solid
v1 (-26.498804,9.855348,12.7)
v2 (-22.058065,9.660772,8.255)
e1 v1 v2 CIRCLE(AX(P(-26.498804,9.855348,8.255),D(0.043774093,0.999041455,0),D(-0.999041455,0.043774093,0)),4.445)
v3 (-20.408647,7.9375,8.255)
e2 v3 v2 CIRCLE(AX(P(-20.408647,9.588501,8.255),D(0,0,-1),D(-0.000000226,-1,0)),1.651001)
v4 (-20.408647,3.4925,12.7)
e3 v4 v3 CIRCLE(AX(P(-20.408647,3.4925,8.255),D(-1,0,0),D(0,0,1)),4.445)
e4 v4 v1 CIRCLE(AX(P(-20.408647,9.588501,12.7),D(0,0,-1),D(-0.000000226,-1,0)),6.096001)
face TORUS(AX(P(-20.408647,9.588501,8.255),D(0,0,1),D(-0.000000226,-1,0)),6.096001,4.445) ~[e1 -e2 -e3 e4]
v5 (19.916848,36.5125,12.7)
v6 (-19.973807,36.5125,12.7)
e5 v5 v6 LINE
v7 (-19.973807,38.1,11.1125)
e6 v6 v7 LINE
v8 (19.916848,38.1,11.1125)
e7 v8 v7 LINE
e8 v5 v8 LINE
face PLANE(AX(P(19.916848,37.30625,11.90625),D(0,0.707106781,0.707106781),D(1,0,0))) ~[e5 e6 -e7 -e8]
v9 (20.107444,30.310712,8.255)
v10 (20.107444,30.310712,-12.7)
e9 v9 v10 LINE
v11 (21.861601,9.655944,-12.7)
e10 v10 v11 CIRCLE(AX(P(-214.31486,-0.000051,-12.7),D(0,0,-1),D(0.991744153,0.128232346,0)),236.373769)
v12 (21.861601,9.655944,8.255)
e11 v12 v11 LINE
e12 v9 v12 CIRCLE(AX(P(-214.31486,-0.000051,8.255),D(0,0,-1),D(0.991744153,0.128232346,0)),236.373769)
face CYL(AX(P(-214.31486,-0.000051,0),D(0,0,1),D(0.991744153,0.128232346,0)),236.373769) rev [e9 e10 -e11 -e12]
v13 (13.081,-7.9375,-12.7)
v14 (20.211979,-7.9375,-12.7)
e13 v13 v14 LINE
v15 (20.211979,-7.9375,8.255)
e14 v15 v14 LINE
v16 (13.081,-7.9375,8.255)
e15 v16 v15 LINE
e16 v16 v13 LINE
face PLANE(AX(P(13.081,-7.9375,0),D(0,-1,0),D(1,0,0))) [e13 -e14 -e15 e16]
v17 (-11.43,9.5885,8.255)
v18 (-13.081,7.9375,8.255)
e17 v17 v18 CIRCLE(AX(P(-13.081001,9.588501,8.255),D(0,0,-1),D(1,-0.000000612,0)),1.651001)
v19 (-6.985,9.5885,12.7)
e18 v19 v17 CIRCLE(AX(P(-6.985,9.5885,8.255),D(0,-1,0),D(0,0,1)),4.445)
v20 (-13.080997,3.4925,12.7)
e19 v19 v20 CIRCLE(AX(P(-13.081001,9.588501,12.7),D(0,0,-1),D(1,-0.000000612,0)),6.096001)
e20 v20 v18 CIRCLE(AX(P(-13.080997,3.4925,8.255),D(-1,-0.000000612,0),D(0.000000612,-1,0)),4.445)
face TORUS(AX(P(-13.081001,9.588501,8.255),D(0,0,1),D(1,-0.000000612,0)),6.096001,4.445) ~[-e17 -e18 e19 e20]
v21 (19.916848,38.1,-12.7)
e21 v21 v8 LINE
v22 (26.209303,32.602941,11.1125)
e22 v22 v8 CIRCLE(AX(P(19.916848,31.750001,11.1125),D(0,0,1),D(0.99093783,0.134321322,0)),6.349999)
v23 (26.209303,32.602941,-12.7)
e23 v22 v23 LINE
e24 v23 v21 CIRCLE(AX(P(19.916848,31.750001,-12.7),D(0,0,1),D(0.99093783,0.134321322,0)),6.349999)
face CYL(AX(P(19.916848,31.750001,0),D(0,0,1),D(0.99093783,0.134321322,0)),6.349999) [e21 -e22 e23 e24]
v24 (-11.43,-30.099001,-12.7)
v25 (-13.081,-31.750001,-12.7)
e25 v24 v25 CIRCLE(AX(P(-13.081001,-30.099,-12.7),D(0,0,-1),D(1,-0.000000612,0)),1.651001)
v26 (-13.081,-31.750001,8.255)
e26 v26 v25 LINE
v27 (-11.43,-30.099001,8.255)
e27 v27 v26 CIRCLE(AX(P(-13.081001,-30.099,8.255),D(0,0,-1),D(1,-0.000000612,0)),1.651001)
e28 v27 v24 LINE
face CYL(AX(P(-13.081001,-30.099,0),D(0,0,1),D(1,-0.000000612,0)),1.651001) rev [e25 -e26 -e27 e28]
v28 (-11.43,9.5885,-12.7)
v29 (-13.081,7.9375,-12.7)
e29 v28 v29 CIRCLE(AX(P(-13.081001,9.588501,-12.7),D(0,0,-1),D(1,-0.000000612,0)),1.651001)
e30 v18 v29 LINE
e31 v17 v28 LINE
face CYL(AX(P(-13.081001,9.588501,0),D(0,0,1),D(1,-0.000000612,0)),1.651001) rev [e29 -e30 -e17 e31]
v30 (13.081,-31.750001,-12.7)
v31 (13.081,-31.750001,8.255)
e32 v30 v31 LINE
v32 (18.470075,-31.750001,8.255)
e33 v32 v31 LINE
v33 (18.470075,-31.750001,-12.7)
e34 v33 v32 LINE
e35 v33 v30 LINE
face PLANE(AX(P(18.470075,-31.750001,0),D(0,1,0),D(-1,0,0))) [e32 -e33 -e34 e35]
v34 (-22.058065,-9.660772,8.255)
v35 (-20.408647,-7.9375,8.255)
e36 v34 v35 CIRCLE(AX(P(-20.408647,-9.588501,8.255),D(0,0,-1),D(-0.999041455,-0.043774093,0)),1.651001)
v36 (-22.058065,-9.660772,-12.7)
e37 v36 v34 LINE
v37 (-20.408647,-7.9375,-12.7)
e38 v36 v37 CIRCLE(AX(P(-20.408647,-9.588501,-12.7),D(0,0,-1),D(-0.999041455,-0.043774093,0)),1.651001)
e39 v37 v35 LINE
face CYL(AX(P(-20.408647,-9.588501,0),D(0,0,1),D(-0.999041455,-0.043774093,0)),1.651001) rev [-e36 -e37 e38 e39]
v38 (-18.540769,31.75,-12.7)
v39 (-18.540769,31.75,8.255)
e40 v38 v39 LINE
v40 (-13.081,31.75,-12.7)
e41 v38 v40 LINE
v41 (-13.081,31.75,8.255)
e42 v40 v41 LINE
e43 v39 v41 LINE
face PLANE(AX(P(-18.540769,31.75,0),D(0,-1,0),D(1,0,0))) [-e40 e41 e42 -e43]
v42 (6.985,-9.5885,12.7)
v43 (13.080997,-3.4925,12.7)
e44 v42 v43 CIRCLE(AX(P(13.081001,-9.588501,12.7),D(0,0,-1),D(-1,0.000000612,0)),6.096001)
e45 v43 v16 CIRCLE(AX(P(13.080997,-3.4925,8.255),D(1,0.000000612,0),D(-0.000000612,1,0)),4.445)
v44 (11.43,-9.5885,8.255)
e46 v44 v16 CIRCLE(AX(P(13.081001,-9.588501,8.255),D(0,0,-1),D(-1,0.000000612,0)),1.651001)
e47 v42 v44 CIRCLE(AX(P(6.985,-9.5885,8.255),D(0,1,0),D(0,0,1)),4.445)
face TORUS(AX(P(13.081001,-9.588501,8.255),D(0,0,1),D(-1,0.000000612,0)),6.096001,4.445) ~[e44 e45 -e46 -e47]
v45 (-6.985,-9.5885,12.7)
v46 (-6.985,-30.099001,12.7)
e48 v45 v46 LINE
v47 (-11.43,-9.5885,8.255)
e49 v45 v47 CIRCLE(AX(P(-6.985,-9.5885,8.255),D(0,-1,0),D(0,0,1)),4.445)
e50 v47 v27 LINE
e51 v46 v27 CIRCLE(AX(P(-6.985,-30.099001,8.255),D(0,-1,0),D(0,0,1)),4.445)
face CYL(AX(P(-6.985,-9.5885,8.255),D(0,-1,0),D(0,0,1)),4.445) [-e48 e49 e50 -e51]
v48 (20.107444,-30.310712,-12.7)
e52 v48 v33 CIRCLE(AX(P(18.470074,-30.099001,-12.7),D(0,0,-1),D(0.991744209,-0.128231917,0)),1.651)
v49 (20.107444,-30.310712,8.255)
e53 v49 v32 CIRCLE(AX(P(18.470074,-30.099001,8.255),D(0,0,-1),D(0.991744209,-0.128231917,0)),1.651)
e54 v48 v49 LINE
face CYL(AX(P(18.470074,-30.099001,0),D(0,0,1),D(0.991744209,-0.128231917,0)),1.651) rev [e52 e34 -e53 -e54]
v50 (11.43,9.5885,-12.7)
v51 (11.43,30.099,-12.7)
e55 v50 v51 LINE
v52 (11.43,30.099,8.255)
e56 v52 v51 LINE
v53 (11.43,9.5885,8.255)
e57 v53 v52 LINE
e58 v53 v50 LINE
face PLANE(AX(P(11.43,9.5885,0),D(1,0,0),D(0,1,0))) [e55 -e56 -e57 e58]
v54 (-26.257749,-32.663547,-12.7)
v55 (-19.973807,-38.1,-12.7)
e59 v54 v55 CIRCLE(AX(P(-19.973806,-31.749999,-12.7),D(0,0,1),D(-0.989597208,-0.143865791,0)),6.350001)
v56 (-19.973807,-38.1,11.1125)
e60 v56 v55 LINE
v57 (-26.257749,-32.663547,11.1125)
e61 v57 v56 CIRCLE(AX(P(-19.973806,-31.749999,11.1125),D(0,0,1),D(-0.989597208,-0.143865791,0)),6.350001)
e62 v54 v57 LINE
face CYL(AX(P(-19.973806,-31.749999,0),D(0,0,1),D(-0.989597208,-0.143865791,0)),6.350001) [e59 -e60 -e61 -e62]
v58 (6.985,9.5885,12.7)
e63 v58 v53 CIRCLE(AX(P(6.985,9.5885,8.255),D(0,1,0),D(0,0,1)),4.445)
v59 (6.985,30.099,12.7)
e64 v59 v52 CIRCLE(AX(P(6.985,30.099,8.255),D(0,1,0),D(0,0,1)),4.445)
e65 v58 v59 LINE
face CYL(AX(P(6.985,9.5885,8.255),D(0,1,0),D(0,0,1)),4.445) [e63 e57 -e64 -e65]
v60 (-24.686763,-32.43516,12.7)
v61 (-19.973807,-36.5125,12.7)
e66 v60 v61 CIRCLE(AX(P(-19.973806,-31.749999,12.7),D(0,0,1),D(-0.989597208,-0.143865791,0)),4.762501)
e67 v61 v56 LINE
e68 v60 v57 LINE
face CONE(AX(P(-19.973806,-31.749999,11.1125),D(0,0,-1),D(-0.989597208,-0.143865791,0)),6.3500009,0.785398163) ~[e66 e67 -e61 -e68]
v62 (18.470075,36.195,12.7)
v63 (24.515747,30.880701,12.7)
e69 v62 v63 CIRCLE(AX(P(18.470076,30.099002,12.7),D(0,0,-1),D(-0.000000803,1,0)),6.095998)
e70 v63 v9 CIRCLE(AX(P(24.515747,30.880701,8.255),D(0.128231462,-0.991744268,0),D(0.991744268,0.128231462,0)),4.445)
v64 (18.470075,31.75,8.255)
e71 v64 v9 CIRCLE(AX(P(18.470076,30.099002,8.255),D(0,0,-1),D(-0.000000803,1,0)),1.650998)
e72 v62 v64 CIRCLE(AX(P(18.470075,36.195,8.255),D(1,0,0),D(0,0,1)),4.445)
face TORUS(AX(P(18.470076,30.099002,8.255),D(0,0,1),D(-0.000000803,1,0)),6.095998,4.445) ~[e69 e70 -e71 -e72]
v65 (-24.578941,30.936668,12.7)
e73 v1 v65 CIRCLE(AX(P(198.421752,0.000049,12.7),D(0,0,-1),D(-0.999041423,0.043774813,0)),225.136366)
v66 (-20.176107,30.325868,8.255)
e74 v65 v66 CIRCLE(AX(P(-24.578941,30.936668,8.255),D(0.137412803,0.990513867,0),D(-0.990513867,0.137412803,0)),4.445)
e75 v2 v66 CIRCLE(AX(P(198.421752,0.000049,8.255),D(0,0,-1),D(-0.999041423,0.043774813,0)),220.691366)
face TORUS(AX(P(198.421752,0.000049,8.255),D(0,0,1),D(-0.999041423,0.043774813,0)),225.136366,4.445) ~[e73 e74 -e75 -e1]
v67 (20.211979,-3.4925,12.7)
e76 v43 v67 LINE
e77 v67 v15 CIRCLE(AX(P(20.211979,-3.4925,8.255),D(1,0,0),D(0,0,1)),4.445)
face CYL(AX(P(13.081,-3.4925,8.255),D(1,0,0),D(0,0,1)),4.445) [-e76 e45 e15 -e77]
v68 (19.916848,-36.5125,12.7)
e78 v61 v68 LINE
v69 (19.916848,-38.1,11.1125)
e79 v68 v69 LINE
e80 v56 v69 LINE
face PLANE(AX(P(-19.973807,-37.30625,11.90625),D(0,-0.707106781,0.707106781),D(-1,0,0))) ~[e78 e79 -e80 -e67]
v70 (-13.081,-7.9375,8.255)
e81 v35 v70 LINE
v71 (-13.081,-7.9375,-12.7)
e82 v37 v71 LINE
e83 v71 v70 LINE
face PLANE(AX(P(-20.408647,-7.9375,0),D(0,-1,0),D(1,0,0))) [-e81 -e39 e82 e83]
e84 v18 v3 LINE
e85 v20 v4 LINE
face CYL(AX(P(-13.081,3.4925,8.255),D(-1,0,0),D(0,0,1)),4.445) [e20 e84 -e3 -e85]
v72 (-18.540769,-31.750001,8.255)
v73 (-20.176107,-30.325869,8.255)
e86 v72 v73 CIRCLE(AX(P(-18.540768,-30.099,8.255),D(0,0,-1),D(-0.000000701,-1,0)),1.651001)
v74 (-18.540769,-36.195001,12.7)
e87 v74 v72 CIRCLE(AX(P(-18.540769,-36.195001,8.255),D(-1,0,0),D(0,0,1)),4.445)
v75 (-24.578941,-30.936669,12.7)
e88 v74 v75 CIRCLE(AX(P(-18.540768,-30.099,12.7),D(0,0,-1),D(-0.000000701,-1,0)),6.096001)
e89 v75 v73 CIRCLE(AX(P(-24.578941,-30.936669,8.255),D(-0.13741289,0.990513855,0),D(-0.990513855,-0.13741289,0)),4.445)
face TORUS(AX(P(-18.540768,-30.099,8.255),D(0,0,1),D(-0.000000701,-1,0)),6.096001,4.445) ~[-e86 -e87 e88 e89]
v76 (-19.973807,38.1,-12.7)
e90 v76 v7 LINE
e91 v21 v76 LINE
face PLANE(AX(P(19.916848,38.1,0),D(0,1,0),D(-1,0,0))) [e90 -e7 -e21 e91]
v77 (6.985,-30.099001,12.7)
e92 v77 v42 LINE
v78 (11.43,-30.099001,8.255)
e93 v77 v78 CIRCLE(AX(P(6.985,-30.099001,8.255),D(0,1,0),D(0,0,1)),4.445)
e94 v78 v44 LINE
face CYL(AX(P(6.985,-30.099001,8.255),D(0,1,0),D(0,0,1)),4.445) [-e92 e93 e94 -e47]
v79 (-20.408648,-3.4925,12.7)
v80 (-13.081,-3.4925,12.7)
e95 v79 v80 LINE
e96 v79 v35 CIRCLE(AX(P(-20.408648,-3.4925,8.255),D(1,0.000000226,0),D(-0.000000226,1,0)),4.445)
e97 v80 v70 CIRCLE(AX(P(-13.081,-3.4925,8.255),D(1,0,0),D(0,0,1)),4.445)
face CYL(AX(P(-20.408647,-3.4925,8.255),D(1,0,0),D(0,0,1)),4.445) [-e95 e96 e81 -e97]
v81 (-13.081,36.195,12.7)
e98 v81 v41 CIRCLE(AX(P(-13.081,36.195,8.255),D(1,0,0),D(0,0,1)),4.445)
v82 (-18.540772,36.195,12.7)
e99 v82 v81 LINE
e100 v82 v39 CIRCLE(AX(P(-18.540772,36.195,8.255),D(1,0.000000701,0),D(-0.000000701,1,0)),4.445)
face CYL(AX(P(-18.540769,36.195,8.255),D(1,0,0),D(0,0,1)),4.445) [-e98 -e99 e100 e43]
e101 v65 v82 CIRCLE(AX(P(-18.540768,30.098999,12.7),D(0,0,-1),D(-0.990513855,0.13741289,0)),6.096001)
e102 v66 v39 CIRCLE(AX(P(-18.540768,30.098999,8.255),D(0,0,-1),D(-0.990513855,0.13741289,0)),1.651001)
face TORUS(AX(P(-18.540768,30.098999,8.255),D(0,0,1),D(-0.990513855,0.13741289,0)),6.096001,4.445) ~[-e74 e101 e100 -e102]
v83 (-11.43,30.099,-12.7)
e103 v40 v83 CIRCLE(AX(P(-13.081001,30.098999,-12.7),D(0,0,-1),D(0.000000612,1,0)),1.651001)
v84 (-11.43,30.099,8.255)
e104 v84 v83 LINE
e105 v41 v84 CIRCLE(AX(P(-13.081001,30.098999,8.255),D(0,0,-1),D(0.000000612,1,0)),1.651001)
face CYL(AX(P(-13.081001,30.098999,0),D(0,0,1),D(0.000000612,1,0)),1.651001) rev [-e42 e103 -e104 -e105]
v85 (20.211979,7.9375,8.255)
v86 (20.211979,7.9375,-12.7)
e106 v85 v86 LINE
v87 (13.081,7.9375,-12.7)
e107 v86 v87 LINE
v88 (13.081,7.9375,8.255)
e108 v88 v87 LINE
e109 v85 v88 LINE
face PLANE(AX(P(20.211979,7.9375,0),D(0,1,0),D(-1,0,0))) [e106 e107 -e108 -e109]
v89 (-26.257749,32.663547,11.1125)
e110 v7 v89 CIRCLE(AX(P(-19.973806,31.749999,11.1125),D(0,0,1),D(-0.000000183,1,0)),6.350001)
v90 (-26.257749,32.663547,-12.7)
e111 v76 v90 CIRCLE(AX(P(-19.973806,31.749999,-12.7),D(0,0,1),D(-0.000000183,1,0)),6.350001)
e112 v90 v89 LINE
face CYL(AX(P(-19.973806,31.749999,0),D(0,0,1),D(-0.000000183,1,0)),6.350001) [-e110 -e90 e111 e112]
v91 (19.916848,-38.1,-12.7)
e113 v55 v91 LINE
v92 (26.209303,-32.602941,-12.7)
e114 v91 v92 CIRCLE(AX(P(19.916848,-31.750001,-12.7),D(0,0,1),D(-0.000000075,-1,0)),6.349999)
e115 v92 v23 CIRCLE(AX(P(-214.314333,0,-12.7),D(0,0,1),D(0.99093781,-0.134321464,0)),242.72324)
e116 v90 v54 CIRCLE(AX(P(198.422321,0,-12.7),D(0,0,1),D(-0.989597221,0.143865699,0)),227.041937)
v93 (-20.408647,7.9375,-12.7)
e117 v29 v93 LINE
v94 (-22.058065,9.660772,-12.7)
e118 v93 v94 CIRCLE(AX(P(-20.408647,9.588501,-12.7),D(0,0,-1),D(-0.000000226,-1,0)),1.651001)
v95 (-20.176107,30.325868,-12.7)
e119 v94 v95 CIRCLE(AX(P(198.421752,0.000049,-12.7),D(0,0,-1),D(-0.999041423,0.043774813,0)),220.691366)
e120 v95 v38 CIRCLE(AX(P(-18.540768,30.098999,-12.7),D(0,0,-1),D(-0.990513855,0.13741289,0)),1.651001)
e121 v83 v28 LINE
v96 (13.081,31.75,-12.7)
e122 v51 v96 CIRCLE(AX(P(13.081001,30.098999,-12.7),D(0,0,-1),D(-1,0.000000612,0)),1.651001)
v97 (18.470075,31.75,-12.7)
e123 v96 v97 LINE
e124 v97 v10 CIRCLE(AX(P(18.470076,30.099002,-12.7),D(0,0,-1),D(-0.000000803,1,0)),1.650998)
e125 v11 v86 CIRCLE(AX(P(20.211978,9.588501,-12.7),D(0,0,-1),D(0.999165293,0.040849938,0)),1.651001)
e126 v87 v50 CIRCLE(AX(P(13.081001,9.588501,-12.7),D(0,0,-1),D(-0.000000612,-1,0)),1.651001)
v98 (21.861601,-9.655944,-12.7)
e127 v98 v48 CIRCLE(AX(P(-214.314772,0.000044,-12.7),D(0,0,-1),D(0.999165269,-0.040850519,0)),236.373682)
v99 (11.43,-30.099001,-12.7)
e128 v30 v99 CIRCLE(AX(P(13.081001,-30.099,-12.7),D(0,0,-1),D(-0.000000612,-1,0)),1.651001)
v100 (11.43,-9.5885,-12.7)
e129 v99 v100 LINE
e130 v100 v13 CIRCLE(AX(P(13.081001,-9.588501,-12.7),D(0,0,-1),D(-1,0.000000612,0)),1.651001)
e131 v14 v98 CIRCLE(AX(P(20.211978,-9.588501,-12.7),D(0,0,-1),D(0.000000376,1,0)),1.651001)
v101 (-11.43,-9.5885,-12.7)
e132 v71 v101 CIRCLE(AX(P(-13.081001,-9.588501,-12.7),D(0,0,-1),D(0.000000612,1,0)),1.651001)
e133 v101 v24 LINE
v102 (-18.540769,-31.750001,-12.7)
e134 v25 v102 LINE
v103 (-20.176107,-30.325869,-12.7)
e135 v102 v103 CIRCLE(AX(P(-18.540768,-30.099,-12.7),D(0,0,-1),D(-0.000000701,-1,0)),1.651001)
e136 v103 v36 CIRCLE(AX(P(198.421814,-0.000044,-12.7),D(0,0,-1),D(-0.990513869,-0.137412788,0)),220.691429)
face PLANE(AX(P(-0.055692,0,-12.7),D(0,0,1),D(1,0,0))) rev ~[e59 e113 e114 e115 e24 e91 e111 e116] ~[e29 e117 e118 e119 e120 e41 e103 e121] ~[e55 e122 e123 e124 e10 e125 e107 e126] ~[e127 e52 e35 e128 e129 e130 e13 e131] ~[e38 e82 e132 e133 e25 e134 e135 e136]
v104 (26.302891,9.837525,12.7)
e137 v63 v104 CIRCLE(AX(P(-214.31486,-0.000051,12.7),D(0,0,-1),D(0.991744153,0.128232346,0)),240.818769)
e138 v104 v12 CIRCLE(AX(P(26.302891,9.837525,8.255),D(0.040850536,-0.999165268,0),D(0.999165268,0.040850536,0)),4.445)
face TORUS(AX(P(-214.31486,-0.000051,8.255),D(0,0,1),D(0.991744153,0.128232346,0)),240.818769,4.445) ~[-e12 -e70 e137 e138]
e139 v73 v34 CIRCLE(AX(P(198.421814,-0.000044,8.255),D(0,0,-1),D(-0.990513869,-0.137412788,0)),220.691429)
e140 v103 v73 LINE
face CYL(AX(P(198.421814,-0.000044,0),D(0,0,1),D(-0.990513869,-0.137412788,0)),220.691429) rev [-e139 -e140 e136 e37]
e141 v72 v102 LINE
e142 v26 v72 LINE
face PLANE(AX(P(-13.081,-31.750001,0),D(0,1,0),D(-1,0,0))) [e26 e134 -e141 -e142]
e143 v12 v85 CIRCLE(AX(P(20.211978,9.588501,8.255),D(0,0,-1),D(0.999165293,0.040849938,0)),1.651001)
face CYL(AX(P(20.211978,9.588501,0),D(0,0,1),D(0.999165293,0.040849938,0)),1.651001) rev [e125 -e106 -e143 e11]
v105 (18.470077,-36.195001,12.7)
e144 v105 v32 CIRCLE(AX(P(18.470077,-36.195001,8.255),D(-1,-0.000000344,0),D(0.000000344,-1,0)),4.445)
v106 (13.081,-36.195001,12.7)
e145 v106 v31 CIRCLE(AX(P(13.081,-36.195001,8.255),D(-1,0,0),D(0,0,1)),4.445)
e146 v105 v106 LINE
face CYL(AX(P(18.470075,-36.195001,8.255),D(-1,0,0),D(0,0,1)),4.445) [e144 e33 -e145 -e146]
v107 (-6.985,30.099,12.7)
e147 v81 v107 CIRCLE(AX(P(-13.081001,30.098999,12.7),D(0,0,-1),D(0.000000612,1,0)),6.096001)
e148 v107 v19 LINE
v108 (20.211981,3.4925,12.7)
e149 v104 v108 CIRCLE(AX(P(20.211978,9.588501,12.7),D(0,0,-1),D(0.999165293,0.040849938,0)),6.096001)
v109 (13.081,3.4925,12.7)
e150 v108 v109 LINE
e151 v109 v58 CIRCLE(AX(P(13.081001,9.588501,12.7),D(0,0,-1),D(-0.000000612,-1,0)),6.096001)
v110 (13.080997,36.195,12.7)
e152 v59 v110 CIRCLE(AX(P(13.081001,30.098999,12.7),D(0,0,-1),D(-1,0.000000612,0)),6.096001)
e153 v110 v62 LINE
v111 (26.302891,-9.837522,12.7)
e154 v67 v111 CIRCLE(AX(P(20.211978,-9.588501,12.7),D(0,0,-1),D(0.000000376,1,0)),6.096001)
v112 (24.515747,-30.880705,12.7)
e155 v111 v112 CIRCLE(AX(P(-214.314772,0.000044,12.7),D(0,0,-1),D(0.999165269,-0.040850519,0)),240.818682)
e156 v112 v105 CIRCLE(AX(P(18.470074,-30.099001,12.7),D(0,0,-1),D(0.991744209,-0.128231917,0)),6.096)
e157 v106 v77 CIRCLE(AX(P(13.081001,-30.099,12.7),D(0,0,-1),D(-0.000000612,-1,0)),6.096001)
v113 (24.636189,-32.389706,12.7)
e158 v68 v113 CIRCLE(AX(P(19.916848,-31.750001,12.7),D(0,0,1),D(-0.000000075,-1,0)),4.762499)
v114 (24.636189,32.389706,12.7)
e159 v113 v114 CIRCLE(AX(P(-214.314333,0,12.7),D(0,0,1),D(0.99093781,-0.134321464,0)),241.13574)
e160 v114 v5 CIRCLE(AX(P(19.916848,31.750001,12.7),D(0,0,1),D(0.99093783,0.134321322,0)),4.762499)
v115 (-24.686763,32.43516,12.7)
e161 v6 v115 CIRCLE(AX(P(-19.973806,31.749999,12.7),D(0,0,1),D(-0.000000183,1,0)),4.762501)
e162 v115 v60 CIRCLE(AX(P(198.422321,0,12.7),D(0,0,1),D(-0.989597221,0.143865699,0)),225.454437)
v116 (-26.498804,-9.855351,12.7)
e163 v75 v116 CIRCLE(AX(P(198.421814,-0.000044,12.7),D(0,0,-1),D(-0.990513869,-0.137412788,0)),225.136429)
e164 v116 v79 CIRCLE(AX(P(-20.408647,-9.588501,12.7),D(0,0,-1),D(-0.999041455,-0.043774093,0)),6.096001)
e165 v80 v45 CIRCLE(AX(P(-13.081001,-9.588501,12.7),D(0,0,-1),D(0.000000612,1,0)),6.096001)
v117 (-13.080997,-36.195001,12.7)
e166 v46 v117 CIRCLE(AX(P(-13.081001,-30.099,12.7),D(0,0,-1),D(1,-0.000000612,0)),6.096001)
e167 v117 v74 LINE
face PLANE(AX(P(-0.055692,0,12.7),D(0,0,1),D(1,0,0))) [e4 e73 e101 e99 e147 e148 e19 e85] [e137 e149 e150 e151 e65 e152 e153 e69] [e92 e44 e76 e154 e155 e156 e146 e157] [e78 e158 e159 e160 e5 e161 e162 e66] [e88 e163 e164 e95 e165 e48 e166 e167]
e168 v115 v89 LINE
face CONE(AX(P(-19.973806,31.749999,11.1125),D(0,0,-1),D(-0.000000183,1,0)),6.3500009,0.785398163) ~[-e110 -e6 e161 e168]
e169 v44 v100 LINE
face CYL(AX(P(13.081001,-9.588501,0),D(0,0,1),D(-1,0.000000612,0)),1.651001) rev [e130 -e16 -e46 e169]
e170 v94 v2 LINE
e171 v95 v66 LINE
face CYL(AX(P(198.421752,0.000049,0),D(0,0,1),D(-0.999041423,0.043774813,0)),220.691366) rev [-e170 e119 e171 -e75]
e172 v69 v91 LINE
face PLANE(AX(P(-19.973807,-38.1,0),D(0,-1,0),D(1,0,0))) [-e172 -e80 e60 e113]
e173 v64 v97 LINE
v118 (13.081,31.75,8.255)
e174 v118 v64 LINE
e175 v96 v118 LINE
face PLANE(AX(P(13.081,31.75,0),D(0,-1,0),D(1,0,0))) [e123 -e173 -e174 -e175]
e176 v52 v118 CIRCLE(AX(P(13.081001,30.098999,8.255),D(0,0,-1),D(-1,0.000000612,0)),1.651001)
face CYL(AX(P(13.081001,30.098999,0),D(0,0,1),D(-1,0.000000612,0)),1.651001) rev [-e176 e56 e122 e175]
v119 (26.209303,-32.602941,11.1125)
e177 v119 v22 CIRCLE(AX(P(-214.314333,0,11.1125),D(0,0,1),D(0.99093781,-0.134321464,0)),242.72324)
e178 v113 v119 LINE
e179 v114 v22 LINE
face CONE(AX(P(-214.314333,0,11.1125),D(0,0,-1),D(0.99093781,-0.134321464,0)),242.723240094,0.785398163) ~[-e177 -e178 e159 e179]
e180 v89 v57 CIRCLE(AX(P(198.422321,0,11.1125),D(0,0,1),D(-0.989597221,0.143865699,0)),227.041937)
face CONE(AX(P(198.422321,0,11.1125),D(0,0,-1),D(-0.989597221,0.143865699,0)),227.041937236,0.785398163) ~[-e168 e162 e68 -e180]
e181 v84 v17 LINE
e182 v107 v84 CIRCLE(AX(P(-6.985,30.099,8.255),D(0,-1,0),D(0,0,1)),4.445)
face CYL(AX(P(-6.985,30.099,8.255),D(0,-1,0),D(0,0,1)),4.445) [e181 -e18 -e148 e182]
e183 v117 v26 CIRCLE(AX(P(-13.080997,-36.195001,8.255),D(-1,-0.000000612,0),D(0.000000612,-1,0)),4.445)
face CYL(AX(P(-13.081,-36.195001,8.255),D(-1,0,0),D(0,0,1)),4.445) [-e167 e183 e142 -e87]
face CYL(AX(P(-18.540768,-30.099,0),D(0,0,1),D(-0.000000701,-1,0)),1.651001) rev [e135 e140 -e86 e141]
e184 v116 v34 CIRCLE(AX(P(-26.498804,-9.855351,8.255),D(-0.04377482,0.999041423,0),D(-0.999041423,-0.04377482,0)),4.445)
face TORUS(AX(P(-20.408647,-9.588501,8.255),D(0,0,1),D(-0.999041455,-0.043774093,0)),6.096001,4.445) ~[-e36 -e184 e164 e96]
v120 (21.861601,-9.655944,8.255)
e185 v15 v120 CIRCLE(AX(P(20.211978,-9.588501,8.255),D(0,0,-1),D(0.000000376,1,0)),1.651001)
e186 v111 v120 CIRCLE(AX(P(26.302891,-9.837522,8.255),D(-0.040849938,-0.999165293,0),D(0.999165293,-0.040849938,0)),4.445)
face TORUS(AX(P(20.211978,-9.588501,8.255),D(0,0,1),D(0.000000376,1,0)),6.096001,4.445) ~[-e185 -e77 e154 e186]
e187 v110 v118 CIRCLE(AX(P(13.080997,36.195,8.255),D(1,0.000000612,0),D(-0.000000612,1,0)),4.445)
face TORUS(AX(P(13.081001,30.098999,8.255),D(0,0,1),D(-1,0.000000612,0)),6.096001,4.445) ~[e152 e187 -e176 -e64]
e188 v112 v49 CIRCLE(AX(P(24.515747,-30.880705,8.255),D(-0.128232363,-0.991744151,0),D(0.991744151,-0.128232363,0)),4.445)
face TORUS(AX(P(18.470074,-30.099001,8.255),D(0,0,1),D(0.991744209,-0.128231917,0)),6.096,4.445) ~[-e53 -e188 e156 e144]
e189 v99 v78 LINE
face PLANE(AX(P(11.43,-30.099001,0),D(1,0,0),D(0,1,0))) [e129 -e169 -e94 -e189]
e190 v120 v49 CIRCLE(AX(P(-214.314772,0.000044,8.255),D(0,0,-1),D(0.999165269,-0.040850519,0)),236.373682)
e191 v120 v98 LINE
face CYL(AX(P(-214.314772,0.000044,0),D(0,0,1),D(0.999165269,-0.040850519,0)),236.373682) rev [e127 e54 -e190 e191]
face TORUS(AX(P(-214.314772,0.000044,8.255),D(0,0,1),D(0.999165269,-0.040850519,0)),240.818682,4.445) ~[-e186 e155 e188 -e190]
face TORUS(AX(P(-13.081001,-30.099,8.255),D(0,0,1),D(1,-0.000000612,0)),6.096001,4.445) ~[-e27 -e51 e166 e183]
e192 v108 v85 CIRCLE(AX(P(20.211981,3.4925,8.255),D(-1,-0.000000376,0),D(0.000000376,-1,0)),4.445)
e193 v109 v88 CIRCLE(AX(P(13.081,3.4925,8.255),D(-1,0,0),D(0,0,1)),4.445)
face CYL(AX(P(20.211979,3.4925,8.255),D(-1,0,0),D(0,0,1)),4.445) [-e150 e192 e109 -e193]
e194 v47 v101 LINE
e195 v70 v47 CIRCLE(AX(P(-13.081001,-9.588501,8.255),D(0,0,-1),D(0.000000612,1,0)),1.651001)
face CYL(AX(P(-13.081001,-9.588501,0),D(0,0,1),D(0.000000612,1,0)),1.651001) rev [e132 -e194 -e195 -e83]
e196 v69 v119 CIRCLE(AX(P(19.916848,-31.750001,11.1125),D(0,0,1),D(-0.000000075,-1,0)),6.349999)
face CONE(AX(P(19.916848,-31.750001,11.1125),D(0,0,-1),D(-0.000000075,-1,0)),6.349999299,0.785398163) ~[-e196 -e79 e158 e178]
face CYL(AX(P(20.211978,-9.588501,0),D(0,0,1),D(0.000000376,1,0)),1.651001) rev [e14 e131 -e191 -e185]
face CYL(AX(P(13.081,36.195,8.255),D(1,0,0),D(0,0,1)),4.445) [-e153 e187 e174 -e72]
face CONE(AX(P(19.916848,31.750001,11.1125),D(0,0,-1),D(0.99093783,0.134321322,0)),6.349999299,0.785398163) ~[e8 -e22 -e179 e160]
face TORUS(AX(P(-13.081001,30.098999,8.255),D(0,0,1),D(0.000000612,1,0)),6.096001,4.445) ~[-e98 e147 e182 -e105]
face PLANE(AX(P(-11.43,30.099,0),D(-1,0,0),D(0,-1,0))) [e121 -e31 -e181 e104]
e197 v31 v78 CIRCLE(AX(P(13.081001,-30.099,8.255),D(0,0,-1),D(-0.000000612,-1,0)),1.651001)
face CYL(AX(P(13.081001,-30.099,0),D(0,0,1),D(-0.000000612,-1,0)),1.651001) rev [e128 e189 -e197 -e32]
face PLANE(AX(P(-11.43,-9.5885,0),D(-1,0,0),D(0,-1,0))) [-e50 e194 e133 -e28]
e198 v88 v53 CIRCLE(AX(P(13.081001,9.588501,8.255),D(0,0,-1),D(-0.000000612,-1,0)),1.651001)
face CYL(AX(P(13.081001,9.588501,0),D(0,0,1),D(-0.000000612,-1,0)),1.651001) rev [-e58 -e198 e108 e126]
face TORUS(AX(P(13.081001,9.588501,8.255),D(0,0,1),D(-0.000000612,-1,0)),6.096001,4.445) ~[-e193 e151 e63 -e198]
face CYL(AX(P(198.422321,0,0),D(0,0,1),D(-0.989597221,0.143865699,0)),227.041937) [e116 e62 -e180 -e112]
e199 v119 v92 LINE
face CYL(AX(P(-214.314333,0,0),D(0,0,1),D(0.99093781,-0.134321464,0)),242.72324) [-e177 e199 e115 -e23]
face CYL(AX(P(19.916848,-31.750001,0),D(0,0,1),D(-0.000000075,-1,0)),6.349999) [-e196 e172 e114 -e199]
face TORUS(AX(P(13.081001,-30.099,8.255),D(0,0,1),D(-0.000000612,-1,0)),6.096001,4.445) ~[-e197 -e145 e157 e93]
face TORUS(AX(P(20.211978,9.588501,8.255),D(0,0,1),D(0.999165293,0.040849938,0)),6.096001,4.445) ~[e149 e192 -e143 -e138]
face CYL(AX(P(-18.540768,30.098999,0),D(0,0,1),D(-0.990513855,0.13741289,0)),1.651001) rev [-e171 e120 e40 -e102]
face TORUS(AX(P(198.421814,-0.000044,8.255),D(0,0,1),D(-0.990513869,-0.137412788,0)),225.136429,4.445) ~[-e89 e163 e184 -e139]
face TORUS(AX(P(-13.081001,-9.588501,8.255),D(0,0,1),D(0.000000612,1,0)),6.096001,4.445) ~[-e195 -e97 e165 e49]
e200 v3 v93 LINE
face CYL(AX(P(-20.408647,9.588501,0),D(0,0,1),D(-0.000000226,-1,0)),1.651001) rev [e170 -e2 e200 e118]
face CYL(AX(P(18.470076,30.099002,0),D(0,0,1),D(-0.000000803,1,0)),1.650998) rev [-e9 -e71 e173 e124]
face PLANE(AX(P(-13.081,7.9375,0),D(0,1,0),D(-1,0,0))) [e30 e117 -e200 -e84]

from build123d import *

# Parameters (mm, degrees)
F1_DEPTH = 12.7
F2_R     = 4.445
F3_SIZE  = 1.5875


with BuildPart() as f1:
    # F0 (on Top) → F1 (new body, symmetric)
    with BuildSketch(Plane.XY):
        with BuildLine():
            ThreePointArc((26.209303, 32.602941), (24.094546, 36.53219), (19.916848, 38.1))
            Line((19.916848, 38.1), (-19.973807, 38.1))
            ThreePointArc((-19.973807, 38.1), (-24.128411, 36.552266), (-26.257749, 32.663547))
            ThreePointArc((-26.257749, 32.663547), (-28.619616, 0), (-26.257749, -32.663547))
            ThreePointArc((-26.257749, -32.663547), (-24.128411, -36.552266), (-19.973807, -38.1))
            Line((-19.973807, -38.1), (19.916848, -38.1))
            ThreePointArc((19.916848, -38.1), (24.094546, -36.53219), (26.209303, -32.602941))
            ThreePointArc((26.209303, -32.602941), (28.408907, 0), (26.209303, 32.602941))
        make_face()
        with BuildLine():
            ThreePointArc((-20.176107, -30.325869), (-21.360101, -20.015452), (-22.058065, -9.660772))
            ThreePointArc((-22.058065, -9.660772), (-21.601359, -8.446905), (-20.408647, -7.9375))
            Line((-20.408647, -7.9375), (-13.081, -7.9375))
            ThreePointArc((-13.081, -7.9375), (-11.913567, -8.421067), (-11.43, -9.5885))
            Line((-11.43, -9.5885), (-11.43, -30.099001))
            ThreePointArc((-11.43, -30.099001), (-11.913567, -31.266434), (-13.081, -31.750001))
            Line((-13.081, -31.750001), (-18.540769, -31.750001))
            ThreePointArc((-18.540769, -31.750001), (-19.625029, -31.344063), (-20.176107, -30.325869))
        make_face(mode=Mode.SUBTRACT)
        with BuildLine():
            ThreePointArc((20.107444, -30.310712), (19.56009, -31.339028), (18.470075, -31.750001))
            Line((18.470075, -31.750001), (13.081, -31.750001))
            ThreePointArc((13.081, -31.750001), (11.913567, -31.266434), (11.43, -30.099001))
            Line((11.43, -30.099001), (11.43, -9.5885))
            ThreePointArc((11.43, -9.5885), (11.913567, -8.421067), (13.081, -7.9375))
            Line((13.081, -7.9375), (20.211979, -7.9375))
            ThreePointArc((20.211979, -7.9375), (21.403018, -8.44516), (21.861601, -9.655944))
            ThreePointArc((21.861601, -9.655944), (21.21105, -20.002567), (20.107444, -30.310712))
        make_face(mode=Mode.SUBTRACT)
        with BuildLine():
            ThreePointArc((-22.058065, 9.660772), (-21.360101, 20.015452), (-20.176107, 30.325868))
            ThreePointArc((-20.176107, 30.325868), (-19.625029, 31.344062), (-18.540769, 31.75))
            Line((-18.540769, 31.75), (-13.081, 31.75))
            ThreePointArc((-13.081, 31.75), (-11.913567, 31.266433), (-11.43, 30.099))
            Line((-11.43, 30.099), (-11.43, 9.5885))
            ThreePointArc((-11.43, 9.5885), (-11.913567, 8.421067), (-13.081, 7.9375))
            Line((-13.081, 7.9375), (-20.408647, 7.9375))
            ThreePointArc((-20.408647, 7.9375), (-21.601359, 8.446905), (-22.058065, 9.660772))
        make_face(mode=Mode.SUBTRACT)
        with BuildLine():
            Line((13.081, 31.75), (18.470075, 31.75))
            ThreePointArc((18.470075, 31.75), (19.56009, 31.339028), (20.107444, 30.310712))
            ThreePointArc((20.107444, 30.310712), (21.21105, 20.002566), (21.861601, 9.655944))
            ThreePointArc((21.861601, 9.655944), (21.403018, 8.44516), (20.211979, 7.9375))
            Line((20.211979, 7.9375), (13.081, 7.9375))
            ThreePointArc((13.081, 7.9375), (11.913567, 8.421067), (11.43, 9.5885))
            Line((11.43, 9.5885), (11.43, 30.099))
            ThreePointArc((11.43, 30.099), (11.913567, 31.266433), (13.081, 31.75))
        make_face(mode=Mode.SUBTRACT)
    extrude(amount=F1_DEPTH, both=True)

    # F2
    f2_edges = [f1.edges().sort_by_distance(p)[0] for p in [
        (11.43, -19.84375, 12.7),
        (-11.43, -19.84375, 12.7),
        (11.43, 19.84375, 12.7),
        (-11.43, 19.84375, 12.7),
    ]]
    fillet(f2_edges, radius=F2_R)

    # F3
    f3_edges = [f1.edges().sort_by_distance(p)[0] for p in [
        (-0.028479, -38.1, 12.7),
    ]]
    chamfer(f3_edges, length=F3_SIZE)


solid = f1.part
